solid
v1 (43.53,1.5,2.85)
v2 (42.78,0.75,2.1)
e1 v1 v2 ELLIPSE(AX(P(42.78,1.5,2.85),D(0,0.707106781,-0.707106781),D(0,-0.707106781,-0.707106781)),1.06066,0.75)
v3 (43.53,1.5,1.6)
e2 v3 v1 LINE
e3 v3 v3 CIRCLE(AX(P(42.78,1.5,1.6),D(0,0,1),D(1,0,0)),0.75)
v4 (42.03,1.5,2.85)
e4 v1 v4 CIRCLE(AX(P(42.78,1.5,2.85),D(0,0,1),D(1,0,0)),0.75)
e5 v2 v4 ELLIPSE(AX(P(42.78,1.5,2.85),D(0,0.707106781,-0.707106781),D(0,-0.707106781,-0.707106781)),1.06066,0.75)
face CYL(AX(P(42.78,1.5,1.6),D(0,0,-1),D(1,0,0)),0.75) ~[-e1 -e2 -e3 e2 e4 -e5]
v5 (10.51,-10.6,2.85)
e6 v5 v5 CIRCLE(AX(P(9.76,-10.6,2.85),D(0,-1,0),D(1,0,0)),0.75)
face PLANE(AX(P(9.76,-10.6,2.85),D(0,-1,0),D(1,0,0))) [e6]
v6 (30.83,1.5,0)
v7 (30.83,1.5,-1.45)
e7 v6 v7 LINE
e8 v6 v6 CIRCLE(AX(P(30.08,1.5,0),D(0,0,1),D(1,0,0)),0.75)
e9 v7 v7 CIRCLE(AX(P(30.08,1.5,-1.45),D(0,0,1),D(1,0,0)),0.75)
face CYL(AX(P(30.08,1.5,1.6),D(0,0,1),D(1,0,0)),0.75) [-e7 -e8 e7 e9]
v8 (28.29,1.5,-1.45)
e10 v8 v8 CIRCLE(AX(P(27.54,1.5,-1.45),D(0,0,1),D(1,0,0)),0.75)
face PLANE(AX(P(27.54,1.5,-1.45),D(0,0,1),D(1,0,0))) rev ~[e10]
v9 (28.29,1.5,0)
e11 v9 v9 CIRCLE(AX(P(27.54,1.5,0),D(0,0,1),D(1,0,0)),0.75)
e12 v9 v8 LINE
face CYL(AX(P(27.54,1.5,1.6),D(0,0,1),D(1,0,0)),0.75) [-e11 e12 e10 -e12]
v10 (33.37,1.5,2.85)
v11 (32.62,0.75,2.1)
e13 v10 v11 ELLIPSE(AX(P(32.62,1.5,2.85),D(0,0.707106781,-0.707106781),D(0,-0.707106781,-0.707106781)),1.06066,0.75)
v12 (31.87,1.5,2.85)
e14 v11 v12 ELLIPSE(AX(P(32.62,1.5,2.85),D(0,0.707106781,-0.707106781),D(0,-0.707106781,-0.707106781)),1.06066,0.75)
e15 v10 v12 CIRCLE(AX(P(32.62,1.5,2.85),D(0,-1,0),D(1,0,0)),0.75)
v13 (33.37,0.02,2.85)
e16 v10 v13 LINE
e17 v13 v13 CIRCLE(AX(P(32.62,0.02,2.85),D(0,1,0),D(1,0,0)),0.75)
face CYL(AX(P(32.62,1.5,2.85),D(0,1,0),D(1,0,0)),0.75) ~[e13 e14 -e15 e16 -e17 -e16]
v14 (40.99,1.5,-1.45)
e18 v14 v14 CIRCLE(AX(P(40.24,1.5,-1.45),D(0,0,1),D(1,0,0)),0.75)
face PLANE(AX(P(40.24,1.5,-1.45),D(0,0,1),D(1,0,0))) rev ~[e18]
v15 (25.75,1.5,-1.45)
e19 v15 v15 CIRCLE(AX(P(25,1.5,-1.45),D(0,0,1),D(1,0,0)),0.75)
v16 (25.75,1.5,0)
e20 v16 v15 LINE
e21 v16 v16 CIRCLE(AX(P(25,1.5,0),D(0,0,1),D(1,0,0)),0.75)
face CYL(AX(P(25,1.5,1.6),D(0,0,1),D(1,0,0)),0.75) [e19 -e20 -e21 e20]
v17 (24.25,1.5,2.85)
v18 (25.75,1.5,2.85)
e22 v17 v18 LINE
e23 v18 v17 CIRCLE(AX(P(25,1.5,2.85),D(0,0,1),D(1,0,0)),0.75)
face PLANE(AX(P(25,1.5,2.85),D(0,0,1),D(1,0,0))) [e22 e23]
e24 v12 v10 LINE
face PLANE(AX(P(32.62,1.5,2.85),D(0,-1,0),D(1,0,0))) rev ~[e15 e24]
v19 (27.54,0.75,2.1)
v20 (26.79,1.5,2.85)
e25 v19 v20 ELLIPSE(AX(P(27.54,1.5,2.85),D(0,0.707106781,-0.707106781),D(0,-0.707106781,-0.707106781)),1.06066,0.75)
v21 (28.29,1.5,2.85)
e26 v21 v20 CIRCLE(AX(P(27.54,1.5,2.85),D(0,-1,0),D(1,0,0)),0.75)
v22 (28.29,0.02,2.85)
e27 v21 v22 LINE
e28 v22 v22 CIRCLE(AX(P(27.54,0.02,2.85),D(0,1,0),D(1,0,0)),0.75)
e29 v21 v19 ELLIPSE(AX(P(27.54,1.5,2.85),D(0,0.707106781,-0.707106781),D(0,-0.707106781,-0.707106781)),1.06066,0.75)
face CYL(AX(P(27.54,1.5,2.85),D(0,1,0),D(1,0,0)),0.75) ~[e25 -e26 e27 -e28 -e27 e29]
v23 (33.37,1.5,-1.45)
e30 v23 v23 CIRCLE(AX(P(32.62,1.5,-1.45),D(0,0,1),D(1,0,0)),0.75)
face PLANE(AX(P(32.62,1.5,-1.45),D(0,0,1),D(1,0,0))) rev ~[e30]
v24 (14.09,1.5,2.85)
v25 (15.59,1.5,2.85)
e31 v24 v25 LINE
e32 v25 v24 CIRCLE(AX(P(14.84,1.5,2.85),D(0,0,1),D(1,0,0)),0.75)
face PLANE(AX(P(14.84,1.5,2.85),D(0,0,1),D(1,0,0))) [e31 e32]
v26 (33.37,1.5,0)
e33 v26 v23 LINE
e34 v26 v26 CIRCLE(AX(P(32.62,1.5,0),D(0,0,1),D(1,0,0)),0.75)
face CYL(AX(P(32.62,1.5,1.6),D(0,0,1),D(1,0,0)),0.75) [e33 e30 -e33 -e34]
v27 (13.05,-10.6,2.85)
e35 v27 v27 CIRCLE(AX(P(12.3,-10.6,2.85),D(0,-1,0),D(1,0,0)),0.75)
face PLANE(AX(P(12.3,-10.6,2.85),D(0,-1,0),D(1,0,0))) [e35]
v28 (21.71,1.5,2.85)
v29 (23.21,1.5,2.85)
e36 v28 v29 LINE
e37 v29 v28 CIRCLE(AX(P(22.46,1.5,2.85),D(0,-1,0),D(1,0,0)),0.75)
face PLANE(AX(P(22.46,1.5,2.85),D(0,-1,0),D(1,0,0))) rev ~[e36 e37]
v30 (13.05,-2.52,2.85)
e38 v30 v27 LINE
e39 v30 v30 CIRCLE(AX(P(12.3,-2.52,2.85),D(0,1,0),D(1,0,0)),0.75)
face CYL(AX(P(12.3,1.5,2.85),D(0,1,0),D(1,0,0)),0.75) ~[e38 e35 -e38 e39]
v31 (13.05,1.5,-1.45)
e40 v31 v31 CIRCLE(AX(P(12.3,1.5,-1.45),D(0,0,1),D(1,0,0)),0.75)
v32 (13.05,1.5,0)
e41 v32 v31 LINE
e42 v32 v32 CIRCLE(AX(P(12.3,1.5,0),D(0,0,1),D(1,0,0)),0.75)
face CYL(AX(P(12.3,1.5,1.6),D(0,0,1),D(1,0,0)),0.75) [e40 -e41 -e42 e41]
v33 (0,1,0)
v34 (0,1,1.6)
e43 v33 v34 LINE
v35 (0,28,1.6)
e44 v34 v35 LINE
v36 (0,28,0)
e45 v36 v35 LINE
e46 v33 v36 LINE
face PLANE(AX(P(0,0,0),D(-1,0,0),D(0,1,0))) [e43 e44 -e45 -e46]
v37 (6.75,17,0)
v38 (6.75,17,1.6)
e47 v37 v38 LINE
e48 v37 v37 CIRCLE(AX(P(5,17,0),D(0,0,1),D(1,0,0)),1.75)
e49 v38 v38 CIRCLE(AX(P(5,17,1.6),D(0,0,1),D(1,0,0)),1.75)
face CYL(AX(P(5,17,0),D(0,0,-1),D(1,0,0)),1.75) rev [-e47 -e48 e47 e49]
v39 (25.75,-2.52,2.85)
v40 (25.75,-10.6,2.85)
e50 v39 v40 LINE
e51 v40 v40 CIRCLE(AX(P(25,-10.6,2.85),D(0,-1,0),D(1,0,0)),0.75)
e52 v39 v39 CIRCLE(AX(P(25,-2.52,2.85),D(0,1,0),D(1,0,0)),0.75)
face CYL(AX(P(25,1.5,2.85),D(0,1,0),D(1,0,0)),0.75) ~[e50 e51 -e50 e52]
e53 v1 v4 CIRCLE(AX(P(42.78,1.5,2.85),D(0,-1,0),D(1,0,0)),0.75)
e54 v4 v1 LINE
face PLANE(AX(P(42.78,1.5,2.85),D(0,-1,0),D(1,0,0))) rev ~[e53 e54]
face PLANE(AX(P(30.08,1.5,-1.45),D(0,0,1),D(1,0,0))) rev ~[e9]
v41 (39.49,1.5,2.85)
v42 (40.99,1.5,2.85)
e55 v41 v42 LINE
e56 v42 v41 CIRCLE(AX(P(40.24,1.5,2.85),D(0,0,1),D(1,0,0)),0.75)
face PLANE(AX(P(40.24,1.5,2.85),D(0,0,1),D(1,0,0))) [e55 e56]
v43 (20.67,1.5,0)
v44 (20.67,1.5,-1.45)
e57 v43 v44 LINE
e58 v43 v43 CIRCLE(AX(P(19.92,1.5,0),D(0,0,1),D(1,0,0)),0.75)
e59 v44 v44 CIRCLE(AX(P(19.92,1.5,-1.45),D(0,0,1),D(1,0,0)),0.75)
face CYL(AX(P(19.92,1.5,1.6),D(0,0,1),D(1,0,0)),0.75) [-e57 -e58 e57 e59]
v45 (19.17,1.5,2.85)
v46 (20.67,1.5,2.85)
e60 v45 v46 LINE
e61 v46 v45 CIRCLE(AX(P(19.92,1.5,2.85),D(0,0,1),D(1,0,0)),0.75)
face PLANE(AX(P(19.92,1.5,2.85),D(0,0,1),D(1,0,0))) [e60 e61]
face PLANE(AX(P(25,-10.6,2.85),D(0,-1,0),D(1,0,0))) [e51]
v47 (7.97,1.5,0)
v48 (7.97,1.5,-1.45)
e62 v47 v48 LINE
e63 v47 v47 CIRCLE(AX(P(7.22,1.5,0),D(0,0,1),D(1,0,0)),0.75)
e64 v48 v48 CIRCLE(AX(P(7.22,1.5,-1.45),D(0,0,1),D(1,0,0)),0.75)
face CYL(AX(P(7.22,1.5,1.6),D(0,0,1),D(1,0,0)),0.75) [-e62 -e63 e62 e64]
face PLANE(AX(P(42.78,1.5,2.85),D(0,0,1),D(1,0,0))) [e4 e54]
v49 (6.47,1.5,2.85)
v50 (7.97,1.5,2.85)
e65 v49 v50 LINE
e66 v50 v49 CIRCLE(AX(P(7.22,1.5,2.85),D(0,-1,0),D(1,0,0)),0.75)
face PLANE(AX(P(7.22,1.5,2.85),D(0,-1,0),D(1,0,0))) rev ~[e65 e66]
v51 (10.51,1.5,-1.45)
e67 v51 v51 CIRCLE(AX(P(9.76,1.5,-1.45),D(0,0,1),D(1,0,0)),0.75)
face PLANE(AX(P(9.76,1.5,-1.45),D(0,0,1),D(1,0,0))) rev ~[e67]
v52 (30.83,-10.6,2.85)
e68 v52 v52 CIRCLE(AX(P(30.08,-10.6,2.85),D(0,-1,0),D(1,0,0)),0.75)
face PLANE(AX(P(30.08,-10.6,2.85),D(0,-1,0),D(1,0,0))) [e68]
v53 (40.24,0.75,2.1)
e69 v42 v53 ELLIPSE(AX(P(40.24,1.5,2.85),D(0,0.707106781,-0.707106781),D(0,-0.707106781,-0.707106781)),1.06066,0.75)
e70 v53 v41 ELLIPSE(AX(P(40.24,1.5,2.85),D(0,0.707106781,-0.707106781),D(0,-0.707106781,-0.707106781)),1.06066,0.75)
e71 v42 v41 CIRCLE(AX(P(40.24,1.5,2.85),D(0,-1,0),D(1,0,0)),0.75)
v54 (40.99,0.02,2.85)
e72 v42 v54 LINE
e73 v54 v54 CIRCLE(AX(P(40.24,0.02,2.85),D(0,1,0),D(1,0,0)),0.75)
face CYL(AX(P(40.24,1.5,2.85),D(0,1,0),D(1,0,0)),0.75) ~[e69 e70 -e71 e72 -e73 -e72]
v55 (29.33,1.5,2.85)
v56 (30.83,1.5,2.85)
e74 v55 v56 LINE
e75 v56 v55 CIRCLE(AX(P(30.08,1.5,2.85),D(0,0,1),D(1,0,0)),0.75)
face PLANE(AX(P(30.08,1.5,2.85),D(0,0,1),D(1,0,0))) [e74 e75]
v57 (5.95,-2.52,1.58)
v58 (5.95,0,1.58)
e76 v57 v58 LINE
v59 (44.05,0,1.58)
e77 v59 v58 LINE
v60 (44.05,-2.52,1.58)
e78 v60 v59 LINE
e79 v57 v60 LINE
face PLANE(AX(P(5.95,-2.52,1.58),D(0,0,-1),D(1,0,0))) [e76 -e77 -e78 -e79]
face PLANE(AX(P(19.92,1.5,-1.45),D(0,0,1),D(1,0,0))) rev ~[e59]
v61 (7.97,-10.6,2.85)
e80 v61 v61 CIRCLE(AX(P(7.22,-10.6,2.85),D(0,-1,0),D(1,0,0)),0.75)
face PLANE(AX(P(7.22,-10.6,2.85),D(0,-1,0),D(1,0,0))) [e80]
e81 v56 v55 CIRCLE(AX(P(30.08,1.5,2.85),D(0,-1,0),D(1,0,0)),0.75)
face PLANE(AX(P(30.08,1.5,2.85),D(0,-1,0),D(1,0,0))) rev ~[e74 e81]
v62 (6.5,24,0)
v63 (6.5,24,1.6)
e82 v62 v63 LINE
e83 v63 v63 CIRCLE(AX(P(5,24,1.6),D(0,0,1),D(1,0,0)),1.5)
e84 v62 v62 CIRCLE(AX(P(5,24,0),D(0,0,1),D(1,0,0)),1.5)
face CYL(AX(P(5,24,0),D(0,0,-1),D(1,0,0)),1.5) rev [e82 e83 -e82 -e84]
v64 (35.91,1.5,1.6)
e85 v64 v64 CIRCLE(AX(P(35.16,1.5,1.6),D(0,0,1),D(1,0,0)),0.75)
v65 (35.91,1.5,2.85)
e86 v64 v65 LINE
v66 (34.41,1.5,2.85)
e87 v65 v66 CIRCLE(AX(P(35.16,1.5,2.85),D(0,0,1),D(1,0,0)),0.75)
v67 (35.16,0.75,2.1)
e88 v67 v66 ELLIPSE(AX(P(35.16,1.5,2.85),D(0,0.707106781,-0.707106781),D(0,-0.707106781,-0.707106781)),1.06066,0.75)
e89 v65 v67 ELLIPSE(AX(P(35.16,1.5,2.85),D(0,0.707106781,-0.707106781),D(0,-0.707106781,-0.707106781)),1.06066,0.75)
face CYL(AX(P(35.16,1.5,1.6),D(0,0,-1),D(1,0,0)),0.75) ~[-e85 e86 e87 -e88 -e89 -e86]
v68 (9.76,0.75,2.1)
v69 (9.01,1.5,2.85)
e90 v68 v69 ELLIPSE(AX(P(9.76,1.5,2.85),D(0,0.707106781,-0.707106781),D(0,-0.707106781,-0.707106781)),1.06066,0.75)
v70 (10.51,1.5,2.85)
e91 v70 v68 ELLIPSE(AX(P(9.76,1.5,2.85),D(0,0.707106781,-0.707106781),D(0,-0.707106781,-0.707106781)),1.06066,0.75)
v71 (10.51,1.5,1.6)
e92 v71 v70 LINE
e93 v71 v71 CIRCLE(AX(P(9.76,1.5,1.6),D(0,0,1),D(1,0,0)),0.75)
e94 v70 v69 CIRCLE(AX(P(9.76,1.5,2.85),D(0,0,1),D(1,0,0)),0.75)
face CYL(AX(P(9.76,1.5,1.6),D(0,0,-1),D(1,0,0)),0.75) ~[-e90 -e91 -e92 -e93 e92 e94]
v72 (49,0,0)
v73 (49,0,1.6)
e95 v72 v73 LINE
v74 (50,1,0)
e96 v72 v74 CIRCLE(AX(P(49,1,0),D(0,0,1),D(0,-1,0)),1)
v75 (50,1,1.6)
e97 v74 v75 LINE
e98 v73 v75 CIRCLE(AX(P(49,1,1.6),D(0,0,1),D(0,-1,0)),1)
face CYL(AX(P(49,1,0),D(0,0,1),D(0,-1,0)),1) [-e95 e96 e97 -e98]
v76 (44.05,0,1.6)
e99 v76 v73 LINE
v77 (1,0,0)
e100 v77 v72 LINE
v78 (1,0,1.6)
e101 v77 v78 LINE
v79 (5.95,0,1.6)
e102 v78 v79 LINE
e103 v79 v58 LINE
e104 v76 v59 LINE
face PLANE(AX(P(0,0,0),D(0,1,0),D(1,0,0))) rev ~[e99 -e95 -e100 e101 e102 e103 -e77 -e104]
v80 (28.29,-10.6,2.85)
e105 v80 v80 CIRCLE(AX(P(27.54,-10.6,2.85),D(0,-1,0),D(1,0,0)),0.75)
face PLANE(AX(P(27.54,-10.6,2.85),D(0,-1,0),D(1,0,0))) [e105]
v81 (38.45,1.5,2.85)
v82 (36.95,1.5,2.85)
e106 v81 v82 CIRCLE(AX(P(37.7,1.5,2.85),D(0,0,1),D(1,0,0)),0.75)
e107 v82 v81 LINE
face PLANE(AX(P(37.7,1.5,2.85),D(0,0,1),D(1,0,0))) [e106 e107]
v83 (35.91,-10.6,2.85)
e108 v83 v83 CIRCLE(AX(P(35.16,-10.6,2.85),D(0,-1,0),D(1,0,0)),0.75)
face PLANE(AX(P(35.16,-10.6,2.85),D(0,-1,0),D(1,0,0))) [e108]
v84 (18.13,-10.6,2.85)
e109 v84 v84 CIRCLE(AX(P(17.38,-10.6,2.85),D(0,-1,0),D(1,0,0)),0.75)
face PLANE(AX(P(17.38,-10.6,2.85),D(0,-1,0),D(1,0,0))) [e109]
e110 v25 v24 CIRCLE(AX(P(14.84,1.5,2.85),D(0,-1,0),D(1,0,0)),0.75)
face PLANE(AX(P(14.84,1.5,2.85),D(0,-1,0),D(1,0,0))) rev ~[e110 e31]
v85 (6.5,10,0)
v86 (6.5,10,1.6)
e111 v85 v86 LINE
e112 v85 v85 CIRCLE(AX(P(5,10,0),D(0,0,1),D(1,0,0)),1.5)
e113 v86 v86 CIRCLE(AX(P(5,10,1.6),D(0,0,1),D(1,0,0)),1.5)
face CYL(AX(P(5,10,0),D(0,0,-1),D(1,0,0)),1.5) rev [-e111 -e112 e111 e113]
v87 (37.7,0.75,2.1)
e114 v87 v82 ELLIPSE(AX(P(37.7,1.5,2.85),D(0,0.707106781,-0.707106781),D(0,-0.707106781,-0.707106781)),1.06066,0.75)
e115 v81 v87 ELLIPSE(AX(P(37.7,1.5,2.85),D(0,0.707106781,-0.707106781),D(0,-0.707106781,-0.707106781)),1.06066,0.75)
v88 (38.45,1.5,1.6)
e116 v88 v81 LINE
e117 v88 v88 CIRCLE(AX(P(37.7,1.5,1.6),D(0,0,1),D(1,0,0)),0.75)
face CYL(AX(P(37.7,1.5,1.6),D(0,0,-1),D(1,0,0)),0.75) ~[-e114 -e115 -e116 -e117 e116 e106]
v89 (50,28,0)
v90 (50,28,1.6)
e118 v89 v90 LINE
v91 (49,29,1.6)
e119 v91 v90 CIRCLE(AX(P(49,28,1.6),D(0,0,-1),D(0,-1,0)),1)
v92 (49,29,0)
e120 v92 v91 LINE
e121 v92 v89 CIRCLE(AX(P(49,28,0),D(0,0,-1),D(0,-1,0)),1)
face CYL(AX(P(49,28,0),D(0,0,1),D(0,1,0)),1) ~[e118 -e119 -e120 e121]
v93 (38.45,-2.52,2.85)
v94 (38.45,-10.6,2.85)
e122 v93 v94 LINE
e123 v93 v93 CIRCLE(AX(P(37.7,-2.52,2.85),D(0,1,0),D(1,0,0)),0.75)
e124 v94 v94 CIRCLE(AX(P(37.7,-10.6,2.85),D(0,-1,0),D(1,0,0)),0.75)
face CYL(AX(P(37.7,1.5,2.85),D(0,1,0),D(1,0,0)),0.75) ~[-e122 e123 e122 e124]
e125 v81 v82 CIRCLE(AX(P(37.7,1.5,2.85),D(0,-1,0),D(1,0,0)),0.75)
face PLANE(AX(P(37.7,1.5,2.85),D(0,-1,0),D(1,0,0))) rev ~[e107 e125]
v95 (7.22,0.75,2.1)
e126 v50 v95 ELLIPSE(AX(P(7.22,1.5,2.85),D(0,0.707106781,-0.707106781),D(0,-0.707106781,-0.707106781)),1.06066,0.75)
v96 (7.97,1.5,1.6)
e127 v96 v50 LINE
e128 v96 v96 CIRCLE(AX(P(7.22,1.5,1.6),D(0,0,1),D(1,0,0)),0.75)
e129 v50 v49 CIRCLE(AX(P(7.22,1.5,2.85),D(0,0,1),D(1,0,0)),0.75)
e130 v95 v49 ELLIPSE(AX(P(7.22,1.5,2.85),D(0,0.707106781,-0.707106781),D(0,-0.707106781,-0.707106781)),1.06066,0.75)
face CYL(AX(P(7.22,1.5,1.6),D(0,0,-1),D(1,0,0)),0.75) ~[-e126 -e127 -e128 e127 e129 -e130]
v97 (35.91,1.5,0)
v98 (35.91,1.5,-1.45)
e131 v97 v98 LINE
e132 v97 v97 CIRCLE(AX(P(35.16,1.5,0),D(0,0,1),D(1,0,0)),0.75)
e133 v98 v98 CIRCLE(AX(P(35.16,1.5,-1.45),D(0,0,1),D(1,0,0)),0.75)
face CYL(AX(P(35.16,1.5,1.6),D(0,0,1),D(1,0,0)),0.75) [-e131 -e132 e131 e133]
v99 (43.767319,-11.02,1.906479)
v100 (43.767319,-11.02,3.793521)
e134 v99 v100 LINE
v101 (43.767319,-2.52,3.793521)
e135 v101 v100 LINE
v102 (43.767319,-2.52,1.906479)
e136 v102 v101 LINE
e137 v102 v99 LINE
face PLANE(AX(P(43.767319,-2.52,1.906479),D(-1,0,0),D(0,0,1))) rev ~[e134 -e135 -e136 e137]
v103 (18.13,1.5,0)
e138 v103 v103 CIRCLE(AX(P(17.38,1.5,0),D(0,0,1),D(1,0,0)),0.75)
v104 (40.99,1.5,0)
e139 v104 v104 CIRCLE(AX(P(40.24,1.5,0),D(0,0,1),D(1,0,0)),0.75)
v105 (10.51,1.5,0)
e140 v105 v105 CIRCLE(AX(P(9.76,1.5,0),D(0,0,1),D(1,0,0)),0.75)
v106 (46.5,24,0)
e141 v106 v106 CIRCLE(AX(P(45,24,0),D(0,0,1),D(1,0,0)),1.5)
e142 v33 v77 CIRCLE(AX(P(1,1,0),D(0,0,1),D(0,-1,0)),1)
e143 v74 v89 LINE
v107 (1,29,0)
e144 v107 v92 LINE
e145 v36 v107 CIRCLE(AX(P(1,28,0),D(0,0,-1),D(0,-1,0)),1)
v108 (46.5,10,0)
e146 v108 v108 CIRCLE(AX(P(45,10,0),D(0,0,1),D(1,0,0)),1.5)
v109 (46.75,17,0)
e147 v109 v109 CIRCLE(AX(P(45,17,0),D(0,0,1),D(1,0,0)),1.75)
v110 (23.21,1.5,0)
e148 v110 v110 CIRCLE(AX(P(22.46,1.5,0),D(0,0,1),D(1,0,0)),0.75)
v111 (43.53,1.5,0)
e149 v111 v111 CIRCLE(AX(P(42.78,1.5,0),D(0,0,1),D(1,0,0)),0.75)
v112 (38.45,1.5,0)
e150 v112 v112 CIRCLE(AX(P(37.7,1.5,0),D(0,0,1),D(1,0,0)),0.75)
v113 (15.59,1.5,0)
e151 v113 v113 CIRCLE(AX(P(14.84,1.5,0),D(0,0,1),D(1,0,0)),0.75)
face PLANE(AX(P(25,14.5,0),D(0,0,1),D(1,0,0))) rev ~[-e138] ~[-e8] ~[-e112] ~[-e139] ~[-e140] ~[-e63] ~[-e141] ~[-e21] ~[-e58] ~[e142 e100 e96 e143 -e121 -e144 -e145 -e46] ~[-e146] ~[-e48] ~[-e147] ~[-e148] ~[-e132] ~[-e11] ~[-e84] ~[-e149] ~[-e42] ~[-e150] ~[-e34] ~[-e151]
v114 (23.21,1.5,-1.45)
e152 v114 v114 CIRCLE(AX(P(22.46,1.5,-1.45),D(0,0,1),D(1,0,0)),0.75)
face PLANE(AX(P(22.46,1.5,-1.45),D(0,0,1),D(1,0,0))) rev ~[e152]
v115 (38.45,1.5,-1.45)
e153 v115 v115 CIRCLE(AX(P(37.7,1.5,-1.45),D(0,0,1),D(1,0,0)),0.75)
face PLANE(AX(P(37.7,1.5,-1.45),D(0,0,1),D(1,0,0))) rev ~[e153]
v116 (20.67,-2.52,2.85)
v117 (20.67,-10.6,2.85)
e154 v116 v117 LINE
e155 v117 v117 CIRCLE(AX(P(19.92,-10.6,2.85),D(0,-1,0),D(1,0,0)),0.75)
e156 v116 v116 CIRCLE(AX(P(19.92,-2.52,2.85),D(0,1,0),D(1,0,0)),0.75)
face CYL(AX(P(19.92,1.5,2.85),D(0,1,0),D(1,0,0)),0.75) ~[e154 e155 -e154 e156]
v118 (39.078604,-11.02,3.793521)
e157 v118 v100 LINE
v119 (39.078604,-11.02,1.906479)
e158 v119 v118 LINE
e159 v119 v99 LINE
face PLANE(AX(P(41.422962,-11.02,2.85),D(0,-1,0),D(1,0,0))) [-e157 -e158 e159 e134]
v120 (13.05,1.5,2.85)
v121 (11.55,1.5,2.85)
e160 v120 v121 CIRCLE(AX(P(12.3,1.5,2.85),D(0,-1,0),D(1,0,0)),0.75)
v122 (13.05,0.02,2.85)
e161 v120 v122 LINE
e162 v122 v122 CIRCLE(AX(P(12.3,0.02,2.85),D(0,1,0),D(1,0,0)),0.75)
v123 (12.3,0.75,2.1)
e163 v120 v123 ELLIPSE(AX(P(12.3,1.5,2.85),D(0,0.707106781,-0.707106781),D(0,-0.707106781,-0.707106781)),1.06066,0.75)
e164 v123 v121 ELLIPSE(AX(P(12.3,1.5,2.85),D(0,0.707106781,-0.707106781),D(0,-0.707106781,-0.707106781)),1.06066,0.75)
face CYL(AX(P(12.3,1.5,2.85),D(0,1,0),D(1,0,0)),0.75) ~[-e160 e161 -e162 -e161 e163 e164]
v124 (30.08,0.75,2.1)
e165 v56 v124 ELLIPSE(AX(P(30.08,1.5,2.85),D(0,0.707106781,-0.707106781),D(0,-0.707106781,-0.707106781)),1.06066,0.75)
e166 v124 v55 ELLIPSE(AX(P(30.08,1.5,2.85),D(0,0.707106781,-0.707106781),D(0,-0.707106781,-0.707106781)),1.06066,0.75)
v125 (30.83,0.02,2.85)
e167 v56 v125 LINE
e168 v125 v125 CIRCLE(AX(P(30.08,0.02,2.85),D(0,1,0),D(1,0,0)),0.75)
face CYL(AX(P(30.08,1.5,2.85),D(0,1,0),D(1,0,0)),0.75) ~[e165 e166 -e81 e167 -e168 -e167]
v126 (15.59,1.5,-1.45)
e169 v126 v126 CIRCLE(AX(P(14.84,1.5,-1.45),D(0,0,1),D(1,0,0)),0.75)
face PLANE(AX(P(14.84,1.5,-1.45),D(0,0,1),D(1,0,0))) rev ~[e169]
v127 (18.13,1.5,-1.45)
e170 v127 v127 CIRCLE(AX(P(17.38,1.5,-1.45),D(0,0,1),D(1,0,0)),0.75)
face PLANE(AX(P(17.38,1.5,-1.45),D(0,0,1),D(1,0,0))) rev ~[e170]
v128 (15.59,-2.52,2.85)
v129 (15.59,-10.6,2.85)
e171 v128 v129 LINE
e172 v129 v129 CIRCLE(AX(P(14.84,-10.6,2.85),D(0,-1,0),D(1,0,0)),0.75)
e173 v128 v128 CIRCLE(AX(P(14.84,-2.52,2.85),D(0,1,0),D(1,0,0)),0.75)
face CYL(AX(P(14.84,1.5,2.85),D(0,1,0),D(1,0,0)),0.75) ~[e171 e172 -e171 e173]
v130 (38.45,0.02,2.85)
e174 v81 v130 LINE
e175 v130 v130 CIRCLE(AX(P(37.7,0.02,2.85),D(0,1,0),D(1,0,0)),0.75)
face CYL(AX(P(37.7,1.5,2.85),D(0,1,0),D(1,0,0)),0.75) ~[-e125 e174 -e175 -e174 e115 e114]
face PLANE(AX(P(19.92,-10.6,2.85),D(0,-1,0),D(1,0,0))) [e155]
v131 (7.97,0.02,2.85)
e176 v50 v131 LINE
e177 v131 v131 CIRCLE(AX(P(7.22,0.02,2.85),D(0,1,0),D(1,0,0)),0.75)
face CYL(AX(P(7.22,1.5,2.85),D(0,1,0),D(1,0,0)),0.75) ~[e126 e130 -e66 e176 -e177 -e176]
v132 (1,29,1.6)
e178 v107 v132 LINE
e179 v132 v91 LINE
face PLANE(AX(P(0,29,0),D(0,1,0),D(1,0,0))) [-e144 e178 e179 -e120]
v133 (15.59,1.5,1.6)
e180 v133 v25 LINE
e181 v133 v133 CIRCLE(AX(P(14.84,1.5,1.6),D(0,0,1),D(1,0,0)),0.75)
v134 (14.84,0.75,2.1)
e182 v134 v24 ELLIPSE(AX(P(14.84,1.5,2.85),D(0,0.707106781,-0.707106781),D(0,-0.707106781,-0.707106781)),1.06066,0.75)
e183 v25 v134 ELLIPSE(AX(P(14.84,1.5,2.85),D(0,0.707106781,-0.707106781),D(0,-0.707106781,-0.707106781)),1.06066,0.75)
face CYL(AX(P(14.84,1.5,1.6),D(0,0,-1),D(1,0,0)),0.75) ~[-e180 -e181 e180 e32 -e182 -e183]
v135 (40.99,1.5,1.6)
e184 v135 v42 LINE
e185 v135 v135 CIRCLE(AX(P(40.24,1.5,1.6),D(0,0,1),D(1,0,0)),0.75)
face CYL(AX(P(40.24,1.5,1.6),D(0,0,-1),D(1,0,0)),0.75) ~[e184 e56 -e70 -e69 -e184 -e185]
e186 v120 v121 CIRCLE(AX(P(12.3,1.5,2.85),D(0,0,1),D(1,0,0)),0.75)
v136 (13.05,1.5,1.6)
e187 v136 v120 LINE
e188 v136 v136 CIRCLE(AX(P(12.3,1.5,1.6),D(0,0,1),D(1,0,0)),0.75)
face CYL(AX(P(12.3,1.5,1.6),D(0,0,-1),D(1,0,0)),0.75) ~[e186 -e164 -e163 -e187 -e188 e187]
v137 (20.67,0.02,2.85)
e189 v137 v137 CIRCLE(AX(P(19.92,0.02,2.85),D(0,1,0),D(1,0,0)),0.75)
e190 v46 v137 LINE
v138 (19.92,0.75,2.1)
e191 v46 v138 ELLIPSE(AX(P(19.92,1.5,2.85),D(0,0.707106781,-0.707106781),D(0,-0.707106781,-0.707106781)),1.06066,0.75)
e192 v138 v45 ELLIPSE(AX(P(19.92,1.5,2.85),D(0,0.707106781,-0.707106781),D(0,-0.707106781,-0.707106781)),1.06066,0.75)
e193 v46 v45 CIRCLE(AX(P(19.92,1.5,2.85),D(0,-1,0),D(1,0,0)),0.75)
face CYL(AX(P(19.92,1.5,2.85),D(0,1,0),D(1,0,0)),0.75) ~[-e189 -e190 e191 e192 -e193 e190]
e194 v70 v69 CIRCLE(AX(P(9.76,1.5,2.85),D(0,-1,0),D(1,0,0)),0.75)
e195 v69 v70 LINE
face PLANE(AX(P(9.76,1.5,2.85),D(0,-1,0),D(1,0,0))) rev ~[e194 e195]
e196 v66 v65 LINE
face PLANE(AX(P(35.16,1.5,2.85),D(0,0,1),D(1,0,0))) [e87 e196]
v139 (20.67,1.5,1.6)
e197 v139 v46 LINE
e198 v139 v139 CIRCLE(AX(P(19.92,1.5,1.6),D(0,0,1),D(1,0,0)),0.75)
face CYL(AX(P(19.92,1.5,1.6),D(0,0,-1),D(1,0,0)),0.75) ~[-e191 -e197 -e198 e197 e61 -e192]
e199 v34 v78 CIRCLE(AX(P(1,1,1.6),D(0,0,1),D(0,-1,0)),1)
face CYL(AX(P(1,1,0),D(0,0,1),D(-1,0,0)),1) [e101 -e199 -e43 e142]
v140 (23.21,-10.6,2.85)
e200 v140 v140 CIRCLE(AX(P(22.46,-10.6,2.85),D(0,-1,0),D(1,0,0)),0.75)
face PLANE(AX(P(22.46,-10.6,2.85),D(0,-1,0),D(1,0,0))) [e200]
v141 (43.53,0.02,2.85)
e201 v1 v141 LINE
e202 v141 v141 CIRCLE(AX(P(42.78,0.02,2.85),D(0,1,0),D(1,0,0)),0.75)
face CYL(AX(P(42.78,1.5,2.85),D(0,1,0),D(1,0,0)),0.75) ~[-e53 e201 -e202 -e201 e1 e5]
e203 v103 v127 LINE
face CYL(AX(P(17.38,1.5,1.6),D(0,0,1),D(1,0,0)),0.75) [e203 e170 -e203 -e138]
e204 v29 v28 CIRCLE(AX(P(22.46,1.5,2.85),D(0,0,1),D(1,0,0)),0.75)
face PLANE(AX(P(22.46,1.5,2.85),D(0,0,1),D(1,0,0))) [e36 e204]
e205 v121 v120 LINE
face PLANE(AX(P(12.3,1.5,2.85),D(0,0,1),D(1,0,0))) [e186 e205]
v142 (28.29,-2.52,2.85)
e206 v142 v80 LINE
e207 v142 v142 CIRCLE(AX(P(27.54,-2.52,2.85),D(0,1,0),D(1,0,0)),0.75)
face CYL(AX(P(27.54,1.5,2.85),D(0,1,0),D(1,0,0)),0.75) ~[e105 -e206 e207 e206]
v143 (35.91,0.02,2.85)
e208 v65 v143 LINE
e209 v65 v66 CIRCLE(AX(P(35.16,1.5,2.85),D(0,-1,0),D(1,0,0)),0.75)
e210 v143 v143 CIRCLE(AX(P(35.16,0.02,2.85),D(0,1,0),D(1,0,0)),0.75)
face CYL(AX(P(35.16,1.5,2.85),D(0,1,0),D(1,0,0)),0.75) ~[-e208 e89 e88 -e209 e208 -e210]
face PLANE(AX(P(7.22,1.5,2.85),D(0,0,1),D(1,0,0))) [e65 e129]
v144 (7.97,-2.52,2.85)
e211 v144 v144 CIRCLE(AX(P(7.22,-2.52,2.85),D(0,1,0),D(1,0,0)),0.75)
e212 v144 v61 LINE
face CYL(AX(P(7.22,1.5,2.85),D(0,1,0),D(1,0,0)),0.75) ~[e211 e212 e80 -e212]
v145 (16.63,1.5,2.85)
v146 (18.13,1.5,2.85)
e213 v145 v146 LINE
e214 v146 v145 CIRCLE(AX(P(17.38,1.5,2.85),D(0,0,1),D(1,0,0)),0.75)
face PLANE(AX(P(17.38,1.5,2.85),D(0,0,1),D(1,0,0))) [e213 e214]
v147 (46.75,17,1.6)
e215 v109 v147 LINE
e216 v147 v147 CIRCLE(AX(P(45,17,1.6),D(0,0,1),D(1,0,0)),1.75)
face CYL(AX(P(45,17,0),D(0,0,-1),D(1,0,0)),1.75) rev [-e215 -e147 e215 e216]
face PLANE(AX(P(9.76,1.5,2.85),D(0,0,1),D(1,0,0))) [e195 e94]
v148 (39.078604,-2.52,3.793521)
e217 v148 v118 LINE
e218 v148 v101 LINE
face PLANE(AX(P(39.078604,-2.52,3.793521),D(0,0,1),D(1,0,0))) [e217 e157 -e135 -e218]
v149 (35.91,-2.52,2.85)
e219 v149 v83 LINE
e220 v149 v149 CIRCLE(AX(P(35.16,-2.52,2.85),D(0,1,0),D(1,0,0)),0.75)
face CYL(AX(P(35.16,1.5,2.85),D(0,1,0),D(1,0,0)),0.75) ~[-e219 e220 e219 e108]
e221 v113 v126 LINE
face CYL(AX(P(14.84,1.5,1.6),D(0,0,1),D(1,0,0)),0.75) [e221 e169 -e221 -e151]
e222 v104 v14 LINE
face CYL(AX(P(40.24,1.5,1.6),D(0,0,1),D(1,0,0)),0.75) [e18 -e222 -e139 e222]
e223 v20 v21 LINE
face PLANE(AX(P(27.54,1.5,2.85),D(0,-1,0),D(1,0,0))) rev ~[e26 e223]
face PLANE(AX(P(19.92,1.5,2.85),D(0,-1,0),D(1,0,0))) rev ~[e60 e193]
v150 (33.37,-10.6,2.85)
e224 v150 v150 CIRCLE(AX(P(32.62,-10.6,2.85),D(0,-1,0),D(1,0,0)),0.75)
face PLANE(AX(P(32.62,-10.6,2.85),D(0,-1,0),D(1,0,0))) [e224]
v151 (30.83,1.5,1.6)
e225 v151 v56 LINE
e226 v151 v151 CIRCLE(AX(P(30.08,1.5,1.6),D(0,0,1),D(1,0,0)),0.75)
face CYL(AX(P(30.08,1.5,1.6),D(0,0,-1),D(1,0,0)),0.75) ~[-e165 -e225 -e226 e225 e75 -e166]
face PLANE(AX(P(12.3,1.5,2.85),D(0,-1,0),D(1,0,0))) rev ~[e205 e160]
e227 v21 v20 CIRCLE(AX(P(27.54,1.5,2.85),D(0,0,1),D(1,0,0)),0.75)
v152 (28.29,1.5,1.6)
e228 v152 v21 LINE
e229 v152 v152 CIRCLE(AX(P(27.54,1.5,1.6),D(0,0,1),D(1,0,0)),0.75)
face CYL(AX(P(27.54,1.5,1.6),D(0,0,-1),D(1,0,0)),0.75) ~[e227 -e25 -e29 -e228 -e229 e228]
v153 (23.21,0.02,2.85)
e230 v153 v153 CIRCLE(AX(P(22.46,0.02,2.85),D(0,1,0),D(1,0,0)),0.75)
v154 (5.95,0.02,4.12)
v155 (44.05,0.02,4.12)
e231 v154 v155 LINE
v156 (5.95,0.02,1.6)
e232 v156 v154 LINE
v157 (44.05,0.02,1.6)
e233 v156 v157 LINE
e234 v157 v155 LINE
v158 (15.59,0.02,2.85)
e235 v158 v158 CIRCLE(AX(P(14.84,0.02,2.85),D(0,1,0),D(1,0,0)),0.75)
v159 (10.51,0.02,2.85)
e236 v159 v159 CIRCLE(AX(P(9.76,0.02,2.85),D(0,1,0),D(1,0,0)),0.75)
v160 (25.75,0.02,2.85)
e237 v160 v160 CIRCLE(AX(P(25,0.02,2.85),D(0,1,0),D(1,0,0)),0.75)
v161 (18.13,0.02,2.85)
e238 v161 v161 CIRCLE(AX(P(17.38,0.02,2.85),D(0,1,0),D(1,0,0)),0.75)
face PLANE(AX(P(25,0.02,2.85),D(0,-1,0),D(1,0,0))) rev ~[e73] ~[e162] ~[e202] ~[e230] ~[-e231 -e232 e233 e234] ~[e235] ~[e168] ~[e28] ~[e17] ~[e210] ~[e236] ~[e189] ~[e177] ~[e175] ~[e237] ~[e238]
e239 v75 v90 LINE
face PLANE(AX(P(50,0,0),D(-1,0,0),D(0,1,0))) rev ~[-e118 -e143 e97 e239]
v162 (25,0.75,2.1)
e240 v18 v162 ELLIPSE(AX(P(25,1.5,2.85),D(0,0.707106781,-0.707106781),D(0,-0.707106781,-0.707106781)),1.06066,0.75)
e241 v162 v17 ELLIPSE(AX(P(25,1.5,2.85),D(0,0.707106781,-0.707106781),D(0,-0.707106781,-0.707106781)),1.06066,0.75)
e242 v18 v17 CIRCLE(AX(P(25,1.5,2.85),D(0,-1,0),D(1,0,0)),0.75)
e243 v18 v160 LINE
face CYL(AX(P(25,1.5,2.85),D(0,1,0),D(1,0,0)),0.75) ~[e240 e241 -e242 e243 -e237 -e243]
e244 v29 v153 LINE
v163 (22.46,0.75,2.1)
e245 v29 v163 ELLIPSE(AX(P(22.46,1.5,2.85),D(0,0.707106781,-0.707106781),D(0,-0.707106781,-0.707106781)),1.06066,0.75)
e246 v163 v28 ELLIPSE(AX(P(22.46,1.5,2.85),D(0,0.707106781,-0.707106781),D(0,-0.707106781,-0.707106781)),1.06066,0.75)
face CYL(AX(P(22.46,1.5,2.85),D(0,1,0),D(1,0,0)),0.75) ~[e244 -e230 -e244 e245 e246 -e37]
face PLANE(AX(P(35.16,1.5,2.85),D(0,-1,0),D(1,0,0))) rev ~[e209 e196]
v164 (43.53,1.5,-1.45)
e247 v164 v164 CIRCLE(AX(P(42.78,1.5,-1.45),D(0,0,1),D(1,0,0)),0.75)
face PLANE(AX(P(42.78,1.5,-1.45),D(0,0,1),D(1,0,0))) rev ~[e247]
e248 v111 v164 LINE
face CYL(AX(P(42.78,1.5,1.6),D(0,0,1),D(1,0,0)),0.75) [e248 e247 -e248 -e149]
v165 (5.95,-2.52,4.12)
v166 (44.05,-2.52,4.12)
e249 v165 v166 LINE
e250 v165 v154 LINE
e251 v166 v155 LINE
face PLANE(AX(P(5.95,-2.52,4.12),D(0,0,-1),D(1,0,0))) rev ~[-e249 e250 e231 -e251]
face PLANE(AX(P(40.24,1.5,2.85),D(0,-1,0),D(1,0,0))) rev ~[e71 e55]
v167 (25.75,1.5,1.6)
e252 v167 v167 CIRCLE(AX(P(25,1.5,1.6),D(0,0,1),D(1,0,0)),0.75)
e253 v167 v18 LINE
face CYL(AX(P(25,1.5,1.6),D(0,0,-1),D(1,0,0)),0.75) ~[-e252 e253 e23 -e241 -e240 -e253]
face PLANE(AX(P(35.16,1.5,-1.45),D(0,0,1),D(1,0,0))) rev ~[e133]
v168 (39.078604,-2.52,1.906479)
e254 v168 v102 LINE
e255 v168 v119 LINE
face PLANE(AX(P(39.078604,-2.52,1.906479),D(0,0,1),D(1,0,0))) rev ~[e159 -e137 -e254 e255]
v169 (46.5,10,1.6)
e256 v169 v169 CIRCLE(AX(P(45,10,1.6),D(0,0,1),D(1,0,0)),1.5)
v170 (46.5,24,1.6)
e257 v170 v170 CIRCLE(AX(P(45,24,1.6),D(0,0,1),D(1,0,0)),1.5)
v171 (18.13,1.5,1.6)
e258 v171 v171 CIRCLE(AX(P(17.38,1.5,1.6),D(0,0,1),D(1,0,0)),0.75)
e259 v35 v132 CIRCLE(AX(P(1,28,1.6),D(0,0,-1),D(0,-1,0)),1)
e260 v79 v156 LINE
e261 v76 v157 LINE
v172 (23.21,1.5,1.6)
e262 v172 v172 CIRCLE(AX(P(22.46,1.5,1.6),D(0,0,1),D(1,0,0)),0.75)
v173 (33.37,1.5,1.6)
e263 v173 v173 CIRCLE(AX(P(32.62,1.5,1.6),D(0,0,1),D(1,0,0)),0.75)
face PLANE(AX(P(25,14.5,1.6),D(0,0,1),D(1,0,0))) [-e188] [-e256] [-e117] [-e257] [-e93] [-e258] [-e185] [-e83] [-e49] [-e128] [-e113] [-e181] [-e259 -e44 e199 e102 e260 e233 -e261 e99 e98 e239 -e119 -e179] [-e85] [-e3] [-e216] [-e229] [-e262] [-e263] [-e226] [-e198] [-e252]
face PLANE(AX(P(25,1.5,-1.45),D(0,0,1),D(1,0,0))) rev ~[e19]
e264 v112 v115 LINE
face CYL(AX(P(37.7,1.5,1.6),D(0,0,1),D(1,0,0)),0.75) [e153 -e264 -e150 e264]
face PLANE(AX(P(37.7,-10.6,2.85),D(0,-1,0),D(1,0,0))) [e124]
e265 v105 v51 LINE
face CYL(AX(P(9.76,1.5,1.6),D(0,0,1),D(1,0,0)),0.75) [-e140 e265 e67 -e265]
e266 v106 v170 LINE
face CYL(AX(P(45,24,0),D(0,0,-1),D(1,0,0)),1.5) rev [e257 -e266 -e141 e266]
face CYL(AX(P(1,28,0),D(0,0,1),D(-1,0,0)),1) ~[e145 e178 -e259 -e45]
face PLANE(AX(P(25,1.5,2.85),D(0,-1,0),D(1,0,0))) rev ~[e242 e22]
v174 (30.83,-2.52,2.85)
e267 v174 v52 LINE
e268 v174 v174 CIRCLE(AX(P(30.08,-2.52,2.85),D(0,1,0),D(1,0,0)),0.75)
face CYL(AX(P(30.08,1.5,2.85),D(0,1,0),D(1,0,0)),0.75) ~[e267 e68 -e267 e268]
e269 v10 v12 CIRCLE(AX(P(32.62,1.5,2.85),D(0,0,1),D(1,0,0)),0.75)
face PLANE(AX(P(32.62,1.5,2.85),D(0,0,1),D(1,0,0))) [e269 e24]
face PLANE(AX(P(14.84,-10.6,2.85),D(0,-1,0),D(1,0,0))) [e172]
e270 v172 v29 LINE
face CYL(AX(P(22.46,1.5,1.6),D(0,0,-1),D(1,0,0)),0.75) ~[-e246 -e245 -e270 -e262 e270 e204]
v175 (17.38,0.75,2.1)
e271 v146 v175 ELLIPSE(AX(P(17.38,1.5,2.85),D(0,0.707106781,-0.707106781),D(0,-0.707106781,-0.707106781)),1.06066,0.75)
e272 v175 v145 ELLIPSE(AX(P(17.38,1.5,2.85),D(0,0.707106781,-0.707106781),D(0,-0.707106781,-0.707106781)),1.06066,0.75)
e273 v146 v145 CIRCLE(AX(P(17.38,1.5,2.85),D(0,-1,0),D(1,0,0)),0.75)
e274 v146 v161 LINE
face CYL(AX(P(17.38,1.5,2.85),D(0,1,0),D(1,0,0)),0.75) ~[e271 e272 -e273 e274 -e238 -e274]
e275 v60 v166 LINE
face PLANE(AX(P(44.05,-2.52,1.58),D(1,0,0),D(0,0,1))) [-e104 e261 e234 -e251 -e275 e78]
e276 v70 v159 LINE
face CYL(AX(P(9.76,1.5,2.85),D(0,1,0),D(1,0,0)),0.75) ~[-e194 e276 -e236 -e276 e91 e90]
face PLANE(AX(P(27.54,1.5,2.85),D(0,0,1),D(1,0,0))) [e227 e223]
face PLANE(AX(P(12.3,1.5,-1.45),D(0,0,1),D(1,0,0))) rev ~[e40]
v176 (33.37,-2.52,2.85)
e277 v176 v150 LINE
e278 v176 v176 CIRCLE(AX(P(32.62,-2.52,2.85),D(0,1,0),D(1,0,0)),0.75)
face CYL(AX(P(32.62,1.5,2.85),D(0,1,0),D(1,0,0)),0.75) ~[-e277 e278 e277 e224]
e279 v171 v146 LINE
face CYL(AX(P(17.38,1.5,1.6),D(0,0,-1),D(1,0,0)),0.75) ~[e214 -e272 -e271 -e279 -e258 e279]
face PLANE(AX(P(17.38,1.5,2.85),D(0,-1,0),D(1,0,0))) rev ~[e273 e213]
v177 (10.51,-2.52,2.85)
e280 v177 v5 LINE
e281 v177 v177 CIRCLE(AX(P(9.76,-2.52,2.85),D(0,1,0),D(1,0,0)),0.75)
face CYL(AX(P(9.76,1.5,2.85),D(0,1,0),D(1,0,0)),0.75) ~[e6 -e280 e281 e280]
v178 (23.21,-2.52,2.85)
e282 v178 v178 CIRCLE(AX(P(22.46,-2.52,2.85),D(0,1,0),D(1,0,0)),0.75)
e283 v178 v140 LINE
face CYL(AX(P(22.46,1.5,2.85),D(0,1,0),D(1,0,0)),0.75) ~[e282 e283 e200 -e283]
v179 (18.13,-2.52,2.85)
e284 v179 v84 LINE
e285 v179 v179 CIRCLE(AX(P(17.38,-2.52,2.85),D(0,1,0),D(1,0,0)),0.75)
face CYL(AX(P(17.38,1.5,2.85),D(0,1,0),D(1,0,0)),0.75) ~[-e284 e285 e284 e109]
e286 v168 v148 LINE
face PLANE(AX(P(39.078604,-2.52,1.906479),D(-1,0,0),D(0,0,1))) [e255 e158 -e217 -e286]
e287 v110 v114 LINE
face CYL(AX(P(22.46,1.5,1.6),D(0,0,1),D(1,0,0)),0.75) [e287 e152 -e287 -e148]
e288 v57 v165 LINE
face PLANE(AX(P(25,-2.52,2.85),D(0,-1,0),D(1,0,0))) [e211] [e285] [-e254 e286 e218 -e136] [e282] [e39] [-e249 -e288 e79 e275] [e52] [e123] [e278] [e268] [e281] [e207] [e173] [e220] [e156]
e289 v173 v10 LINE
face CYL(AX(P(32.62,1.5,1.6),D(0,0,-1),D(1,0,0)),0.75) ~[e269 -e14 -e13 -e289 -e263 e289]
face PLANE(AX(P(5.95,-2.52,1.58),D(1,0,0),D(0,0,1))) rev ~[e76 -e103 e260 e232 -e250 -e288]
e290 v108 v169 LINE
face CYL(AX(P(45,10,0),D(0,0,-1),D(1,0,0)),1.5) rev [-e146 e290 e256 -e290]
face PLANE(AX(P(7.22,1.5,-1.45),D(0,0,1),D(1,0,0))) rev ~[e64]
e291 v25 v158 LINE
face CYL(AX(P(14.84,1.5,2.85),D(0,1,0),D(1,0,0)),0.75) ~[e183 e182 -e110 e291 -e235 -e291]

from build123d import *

# Parameters (mm, degrees)
F0_W      = 50
F0_H      = 29
F0_R      = 0.635
F0_R_2    = 1.5
F0_R_3    = 1.75
F1_DEPTH  = 1.6
F2_R      = 1
F3_R      = 0.75
F4_DEPTH  = 1.25
F5_DEPTH  = 3.05
F7_R      = 0.75
F8_DEPTH  = 12.1
F10_W     = 38.1
F10_H     = 2.54
F11_DEPTH = 2.54
F12_W     = 4.6887147206
F12_H     = 1.8870429106
F13_DEPTH = 8.5


with BuildPart() as f1:
    # F0 (on Top) → F1 (new body)
    with BuildSketch(Plane.XY):
        with Locations((25, 14.5)):
            Rectangle(F0_W, F0_H)
        with Locations((7.22, 1.5)):
            Circle(F0_R, mode=Mode.SUBTRACT)
        with Locations((9.76, 1.5)):
            Circle(F0_R, mode=Mode.SUBTRACT)
        with Locations((12.3, 1.5)):
            Circle(F0_R, mode=Mode.SUBTRACT)
        with Locations((14.84, 1.5)):
            Circle(F0_R, mode=Mode.SUBTRACT)
        with Locations((17.38, 1.5)):
            Circle(F0_R, mode=Mode.SUBTRACT)
        with Locations((19.92, 1.5)):
            Circle(F0_R, mode=Mode.SUBTRACT)
        with Locations((22.46, 1.5)):
            Circle(F0_R, mode=Mode.SUBTRACT)
        with Locations((5, 10)):
            Circle(F0_R_2, mode=Mode.SUBTRACT)
        with Locations((25, 1.5)):
            Circle(F0_R, mode=Mode.SUBTRACT)
        with Locations((27.54, 1.5)):
            Circle(F0_R, mode=Mode.SUBTRACT)
        with Locations((30.08, 1.5)):
            Circle(F0_R, mode=Mode.SUBTRACT)
        with Locations((32.62, 1.5)):
            Circle(F0_R, mode=Mode.SUBTRACT)
        with Locations((35.16, 1.5)):
            Circle(F0_R, mode=Mode.SUBTRACT)
        with Locations((37.7, 1.5)):
            Circle(F0_R, mode=Mode.SUBTRACT)
        with Locations((40.24, 1.5)):
            Circle(F0_R, mode=Mode.SUBTRACT)
        with Locations((42.78, 1.5)):
            Circle(F0_R, mode=Mode.SUBTRACT)
        with Locations((45, 10)):
            Circle(F0_R_2, mode=Mode.SUBTRACT)
        with Locations((5, 17)):
            Circle(F0_R_3, mode=Mode.SUBTRACT)
        with Locations((5, 24)):
            Circle(F0_R_2, mode=Mode.SUBTRACT)
        with Locations((45, 17)):
            Circle(F0_R_3, mode=Mode.SUBTRACT)
        with Locations((45, 24)):
            Circle(F0_R_2, mode=Mode.SUBTRACT)
    extrude(amount=F1_DEPTH)

    # F2
    f2_edges = [f1.edges().sort_by_distance(p)[0] for p in [
        (0, 0, 0.8),
        (50, 0, 0.8),
        (50, 29, 0.8),
        (0, 29, 0.8),
    ]]
    fillet(f2_edges, radius=F2_R)

    # F3 (on face) → F4 (join)
    with BuildSketch(Plane.XY.offset(1.6)):
        with Locations((9.76, 1.5)):
            Circle(F3_R)
        with Locations((12.3, 1.5)):
            Circle(F3_R)
        with Locations((14.84, 1.5)):
            Circle(F3_R)
        with Locations((17.38, 1.5)):
            Circle(F3_R)
        with Locations((19.92, 1.5)):
            Circle(F3_R)
        with Locations((22.46, 1.5)):
            Circle(F3_R)
        with Locations((25, 1.5)):
            Circle(F3_R)
        with Locations((27.54, 1.5)):
            Circle(F3_R)
        with Locations((30.08, 1.5)):
            Circle(F3_R)
        with Locations((32.62, 1.5)):
            Circle(F3_R)
        with Locations((35.16, 1.5)):
            Circle(F3_R)
        with Locations((37.7, 1.5)):
            Circle(F3_R)
        with Locations((40.24, 1.5)):
            Circle(F3_R)
        with Locations((42.78, 1.5)):
            Circle(F3_R)
        with Locations((7.22, 1.5)):
            Circle(F3_R)
    extrude(amount=F4_DEPTH)

    # F3 (on face) → F5 (join)
    with BuildSketch(Plane.XY.offset(1.6)):
        with Locations((9.76, 1.5)):
            Circle(F3_R)
        with Locations((12.3, 1.5)):
            Circle(F3_R)
        with Locations((14.84, 1.5)):
            Circle(F3_R)
        with Locations((17.38, 1.5)):
            Circle(F3_R)
        with Locations((19.92, 1.5)):
            Circle(F3_R)
        with Locations((22.46, 1.5)):
            Circle(F3_R)
        with Locations((25, 1.5)):
            Circle(F3_R)
        with Locations((27.54, 1.5)):
            Circle(F3_R)
        with Locations((30.08, 1.5)):
            Circle(F3_R)
        with Locations((32.62, 1.5)):
            Circle(F3_R)
        with Locations((35.16, 1.5)):
            Circle(F3_R)
        with Locations((37.7, 1.5)):
            Circle(F3_R)
        with Locations((40.24, 1.5)):
            Circle(F3_R)
        with Locations((42.78, 1.5)):
            Circle(F3_R)
        with Locations((7.22, 1.5)):
            Circle(F3_R)
    extrude(amount=-F5_DEPTH)

    # F7 (on offset) → F8 (join)
    with BuildSketch(Plane.XZ.offset(-1.5)):
        with Locations((9.76, 2.85)):
            Circle(F7_R)
        with Locations((12.3, 2.85)):
            Circle(F7_R)
        with Locations((14.84, 2.85)):
            Circle(F7_R)
        with Locations((17.38, 2.85)):
            Circle(F7_R)
        with Locations((19.92, 2.85)):
            Circle(F7_R)
        with Locations((22.46, 2.85)):
            Circle(F7_R)
        with Locations((25, 2.85)):
            Circle(F7_R)
        with Locations((27.54, 2.85)):
            Circle(F7_R)
        with Locations((30.08, 2.85)):
            Circle(F7_R)
        with Locations((32.62, 2.85)):
            Circle(F7_R)
        with Locations((35.16, 2.85)):
            Circle(F7_R)
        with Locations((37.7, 2.85)):
            Circle(F7_R)
        with Locations((40.24, 2.85)):
            Circle(F7_R)
        with Locations((42.78, 2.85)):
            Circle(F7_R)
        with Locations((7.22, 2.85)):
            Circle(F7_R)
    extrude(amount=F8_DEPTH)

    # F10 (on offset) → F11 (join)
    with BuildSketch(Plane.XZ.offset(2.52)):
        with Locations((25, 2.85)):
            Rectangle(F10_W, F10_H)
    extrude(amount=-F11_DEPTH)

    # F12 (on face) → F13 (join)
    with BuildSketch(Plane.XZ.offset(2.52)):
        with Locations((41.4229617903, 2.85)):
            Rectangle(F12_W, F12_H)
    extrude(amount=F13_DEPTH)


solid = f1.part
